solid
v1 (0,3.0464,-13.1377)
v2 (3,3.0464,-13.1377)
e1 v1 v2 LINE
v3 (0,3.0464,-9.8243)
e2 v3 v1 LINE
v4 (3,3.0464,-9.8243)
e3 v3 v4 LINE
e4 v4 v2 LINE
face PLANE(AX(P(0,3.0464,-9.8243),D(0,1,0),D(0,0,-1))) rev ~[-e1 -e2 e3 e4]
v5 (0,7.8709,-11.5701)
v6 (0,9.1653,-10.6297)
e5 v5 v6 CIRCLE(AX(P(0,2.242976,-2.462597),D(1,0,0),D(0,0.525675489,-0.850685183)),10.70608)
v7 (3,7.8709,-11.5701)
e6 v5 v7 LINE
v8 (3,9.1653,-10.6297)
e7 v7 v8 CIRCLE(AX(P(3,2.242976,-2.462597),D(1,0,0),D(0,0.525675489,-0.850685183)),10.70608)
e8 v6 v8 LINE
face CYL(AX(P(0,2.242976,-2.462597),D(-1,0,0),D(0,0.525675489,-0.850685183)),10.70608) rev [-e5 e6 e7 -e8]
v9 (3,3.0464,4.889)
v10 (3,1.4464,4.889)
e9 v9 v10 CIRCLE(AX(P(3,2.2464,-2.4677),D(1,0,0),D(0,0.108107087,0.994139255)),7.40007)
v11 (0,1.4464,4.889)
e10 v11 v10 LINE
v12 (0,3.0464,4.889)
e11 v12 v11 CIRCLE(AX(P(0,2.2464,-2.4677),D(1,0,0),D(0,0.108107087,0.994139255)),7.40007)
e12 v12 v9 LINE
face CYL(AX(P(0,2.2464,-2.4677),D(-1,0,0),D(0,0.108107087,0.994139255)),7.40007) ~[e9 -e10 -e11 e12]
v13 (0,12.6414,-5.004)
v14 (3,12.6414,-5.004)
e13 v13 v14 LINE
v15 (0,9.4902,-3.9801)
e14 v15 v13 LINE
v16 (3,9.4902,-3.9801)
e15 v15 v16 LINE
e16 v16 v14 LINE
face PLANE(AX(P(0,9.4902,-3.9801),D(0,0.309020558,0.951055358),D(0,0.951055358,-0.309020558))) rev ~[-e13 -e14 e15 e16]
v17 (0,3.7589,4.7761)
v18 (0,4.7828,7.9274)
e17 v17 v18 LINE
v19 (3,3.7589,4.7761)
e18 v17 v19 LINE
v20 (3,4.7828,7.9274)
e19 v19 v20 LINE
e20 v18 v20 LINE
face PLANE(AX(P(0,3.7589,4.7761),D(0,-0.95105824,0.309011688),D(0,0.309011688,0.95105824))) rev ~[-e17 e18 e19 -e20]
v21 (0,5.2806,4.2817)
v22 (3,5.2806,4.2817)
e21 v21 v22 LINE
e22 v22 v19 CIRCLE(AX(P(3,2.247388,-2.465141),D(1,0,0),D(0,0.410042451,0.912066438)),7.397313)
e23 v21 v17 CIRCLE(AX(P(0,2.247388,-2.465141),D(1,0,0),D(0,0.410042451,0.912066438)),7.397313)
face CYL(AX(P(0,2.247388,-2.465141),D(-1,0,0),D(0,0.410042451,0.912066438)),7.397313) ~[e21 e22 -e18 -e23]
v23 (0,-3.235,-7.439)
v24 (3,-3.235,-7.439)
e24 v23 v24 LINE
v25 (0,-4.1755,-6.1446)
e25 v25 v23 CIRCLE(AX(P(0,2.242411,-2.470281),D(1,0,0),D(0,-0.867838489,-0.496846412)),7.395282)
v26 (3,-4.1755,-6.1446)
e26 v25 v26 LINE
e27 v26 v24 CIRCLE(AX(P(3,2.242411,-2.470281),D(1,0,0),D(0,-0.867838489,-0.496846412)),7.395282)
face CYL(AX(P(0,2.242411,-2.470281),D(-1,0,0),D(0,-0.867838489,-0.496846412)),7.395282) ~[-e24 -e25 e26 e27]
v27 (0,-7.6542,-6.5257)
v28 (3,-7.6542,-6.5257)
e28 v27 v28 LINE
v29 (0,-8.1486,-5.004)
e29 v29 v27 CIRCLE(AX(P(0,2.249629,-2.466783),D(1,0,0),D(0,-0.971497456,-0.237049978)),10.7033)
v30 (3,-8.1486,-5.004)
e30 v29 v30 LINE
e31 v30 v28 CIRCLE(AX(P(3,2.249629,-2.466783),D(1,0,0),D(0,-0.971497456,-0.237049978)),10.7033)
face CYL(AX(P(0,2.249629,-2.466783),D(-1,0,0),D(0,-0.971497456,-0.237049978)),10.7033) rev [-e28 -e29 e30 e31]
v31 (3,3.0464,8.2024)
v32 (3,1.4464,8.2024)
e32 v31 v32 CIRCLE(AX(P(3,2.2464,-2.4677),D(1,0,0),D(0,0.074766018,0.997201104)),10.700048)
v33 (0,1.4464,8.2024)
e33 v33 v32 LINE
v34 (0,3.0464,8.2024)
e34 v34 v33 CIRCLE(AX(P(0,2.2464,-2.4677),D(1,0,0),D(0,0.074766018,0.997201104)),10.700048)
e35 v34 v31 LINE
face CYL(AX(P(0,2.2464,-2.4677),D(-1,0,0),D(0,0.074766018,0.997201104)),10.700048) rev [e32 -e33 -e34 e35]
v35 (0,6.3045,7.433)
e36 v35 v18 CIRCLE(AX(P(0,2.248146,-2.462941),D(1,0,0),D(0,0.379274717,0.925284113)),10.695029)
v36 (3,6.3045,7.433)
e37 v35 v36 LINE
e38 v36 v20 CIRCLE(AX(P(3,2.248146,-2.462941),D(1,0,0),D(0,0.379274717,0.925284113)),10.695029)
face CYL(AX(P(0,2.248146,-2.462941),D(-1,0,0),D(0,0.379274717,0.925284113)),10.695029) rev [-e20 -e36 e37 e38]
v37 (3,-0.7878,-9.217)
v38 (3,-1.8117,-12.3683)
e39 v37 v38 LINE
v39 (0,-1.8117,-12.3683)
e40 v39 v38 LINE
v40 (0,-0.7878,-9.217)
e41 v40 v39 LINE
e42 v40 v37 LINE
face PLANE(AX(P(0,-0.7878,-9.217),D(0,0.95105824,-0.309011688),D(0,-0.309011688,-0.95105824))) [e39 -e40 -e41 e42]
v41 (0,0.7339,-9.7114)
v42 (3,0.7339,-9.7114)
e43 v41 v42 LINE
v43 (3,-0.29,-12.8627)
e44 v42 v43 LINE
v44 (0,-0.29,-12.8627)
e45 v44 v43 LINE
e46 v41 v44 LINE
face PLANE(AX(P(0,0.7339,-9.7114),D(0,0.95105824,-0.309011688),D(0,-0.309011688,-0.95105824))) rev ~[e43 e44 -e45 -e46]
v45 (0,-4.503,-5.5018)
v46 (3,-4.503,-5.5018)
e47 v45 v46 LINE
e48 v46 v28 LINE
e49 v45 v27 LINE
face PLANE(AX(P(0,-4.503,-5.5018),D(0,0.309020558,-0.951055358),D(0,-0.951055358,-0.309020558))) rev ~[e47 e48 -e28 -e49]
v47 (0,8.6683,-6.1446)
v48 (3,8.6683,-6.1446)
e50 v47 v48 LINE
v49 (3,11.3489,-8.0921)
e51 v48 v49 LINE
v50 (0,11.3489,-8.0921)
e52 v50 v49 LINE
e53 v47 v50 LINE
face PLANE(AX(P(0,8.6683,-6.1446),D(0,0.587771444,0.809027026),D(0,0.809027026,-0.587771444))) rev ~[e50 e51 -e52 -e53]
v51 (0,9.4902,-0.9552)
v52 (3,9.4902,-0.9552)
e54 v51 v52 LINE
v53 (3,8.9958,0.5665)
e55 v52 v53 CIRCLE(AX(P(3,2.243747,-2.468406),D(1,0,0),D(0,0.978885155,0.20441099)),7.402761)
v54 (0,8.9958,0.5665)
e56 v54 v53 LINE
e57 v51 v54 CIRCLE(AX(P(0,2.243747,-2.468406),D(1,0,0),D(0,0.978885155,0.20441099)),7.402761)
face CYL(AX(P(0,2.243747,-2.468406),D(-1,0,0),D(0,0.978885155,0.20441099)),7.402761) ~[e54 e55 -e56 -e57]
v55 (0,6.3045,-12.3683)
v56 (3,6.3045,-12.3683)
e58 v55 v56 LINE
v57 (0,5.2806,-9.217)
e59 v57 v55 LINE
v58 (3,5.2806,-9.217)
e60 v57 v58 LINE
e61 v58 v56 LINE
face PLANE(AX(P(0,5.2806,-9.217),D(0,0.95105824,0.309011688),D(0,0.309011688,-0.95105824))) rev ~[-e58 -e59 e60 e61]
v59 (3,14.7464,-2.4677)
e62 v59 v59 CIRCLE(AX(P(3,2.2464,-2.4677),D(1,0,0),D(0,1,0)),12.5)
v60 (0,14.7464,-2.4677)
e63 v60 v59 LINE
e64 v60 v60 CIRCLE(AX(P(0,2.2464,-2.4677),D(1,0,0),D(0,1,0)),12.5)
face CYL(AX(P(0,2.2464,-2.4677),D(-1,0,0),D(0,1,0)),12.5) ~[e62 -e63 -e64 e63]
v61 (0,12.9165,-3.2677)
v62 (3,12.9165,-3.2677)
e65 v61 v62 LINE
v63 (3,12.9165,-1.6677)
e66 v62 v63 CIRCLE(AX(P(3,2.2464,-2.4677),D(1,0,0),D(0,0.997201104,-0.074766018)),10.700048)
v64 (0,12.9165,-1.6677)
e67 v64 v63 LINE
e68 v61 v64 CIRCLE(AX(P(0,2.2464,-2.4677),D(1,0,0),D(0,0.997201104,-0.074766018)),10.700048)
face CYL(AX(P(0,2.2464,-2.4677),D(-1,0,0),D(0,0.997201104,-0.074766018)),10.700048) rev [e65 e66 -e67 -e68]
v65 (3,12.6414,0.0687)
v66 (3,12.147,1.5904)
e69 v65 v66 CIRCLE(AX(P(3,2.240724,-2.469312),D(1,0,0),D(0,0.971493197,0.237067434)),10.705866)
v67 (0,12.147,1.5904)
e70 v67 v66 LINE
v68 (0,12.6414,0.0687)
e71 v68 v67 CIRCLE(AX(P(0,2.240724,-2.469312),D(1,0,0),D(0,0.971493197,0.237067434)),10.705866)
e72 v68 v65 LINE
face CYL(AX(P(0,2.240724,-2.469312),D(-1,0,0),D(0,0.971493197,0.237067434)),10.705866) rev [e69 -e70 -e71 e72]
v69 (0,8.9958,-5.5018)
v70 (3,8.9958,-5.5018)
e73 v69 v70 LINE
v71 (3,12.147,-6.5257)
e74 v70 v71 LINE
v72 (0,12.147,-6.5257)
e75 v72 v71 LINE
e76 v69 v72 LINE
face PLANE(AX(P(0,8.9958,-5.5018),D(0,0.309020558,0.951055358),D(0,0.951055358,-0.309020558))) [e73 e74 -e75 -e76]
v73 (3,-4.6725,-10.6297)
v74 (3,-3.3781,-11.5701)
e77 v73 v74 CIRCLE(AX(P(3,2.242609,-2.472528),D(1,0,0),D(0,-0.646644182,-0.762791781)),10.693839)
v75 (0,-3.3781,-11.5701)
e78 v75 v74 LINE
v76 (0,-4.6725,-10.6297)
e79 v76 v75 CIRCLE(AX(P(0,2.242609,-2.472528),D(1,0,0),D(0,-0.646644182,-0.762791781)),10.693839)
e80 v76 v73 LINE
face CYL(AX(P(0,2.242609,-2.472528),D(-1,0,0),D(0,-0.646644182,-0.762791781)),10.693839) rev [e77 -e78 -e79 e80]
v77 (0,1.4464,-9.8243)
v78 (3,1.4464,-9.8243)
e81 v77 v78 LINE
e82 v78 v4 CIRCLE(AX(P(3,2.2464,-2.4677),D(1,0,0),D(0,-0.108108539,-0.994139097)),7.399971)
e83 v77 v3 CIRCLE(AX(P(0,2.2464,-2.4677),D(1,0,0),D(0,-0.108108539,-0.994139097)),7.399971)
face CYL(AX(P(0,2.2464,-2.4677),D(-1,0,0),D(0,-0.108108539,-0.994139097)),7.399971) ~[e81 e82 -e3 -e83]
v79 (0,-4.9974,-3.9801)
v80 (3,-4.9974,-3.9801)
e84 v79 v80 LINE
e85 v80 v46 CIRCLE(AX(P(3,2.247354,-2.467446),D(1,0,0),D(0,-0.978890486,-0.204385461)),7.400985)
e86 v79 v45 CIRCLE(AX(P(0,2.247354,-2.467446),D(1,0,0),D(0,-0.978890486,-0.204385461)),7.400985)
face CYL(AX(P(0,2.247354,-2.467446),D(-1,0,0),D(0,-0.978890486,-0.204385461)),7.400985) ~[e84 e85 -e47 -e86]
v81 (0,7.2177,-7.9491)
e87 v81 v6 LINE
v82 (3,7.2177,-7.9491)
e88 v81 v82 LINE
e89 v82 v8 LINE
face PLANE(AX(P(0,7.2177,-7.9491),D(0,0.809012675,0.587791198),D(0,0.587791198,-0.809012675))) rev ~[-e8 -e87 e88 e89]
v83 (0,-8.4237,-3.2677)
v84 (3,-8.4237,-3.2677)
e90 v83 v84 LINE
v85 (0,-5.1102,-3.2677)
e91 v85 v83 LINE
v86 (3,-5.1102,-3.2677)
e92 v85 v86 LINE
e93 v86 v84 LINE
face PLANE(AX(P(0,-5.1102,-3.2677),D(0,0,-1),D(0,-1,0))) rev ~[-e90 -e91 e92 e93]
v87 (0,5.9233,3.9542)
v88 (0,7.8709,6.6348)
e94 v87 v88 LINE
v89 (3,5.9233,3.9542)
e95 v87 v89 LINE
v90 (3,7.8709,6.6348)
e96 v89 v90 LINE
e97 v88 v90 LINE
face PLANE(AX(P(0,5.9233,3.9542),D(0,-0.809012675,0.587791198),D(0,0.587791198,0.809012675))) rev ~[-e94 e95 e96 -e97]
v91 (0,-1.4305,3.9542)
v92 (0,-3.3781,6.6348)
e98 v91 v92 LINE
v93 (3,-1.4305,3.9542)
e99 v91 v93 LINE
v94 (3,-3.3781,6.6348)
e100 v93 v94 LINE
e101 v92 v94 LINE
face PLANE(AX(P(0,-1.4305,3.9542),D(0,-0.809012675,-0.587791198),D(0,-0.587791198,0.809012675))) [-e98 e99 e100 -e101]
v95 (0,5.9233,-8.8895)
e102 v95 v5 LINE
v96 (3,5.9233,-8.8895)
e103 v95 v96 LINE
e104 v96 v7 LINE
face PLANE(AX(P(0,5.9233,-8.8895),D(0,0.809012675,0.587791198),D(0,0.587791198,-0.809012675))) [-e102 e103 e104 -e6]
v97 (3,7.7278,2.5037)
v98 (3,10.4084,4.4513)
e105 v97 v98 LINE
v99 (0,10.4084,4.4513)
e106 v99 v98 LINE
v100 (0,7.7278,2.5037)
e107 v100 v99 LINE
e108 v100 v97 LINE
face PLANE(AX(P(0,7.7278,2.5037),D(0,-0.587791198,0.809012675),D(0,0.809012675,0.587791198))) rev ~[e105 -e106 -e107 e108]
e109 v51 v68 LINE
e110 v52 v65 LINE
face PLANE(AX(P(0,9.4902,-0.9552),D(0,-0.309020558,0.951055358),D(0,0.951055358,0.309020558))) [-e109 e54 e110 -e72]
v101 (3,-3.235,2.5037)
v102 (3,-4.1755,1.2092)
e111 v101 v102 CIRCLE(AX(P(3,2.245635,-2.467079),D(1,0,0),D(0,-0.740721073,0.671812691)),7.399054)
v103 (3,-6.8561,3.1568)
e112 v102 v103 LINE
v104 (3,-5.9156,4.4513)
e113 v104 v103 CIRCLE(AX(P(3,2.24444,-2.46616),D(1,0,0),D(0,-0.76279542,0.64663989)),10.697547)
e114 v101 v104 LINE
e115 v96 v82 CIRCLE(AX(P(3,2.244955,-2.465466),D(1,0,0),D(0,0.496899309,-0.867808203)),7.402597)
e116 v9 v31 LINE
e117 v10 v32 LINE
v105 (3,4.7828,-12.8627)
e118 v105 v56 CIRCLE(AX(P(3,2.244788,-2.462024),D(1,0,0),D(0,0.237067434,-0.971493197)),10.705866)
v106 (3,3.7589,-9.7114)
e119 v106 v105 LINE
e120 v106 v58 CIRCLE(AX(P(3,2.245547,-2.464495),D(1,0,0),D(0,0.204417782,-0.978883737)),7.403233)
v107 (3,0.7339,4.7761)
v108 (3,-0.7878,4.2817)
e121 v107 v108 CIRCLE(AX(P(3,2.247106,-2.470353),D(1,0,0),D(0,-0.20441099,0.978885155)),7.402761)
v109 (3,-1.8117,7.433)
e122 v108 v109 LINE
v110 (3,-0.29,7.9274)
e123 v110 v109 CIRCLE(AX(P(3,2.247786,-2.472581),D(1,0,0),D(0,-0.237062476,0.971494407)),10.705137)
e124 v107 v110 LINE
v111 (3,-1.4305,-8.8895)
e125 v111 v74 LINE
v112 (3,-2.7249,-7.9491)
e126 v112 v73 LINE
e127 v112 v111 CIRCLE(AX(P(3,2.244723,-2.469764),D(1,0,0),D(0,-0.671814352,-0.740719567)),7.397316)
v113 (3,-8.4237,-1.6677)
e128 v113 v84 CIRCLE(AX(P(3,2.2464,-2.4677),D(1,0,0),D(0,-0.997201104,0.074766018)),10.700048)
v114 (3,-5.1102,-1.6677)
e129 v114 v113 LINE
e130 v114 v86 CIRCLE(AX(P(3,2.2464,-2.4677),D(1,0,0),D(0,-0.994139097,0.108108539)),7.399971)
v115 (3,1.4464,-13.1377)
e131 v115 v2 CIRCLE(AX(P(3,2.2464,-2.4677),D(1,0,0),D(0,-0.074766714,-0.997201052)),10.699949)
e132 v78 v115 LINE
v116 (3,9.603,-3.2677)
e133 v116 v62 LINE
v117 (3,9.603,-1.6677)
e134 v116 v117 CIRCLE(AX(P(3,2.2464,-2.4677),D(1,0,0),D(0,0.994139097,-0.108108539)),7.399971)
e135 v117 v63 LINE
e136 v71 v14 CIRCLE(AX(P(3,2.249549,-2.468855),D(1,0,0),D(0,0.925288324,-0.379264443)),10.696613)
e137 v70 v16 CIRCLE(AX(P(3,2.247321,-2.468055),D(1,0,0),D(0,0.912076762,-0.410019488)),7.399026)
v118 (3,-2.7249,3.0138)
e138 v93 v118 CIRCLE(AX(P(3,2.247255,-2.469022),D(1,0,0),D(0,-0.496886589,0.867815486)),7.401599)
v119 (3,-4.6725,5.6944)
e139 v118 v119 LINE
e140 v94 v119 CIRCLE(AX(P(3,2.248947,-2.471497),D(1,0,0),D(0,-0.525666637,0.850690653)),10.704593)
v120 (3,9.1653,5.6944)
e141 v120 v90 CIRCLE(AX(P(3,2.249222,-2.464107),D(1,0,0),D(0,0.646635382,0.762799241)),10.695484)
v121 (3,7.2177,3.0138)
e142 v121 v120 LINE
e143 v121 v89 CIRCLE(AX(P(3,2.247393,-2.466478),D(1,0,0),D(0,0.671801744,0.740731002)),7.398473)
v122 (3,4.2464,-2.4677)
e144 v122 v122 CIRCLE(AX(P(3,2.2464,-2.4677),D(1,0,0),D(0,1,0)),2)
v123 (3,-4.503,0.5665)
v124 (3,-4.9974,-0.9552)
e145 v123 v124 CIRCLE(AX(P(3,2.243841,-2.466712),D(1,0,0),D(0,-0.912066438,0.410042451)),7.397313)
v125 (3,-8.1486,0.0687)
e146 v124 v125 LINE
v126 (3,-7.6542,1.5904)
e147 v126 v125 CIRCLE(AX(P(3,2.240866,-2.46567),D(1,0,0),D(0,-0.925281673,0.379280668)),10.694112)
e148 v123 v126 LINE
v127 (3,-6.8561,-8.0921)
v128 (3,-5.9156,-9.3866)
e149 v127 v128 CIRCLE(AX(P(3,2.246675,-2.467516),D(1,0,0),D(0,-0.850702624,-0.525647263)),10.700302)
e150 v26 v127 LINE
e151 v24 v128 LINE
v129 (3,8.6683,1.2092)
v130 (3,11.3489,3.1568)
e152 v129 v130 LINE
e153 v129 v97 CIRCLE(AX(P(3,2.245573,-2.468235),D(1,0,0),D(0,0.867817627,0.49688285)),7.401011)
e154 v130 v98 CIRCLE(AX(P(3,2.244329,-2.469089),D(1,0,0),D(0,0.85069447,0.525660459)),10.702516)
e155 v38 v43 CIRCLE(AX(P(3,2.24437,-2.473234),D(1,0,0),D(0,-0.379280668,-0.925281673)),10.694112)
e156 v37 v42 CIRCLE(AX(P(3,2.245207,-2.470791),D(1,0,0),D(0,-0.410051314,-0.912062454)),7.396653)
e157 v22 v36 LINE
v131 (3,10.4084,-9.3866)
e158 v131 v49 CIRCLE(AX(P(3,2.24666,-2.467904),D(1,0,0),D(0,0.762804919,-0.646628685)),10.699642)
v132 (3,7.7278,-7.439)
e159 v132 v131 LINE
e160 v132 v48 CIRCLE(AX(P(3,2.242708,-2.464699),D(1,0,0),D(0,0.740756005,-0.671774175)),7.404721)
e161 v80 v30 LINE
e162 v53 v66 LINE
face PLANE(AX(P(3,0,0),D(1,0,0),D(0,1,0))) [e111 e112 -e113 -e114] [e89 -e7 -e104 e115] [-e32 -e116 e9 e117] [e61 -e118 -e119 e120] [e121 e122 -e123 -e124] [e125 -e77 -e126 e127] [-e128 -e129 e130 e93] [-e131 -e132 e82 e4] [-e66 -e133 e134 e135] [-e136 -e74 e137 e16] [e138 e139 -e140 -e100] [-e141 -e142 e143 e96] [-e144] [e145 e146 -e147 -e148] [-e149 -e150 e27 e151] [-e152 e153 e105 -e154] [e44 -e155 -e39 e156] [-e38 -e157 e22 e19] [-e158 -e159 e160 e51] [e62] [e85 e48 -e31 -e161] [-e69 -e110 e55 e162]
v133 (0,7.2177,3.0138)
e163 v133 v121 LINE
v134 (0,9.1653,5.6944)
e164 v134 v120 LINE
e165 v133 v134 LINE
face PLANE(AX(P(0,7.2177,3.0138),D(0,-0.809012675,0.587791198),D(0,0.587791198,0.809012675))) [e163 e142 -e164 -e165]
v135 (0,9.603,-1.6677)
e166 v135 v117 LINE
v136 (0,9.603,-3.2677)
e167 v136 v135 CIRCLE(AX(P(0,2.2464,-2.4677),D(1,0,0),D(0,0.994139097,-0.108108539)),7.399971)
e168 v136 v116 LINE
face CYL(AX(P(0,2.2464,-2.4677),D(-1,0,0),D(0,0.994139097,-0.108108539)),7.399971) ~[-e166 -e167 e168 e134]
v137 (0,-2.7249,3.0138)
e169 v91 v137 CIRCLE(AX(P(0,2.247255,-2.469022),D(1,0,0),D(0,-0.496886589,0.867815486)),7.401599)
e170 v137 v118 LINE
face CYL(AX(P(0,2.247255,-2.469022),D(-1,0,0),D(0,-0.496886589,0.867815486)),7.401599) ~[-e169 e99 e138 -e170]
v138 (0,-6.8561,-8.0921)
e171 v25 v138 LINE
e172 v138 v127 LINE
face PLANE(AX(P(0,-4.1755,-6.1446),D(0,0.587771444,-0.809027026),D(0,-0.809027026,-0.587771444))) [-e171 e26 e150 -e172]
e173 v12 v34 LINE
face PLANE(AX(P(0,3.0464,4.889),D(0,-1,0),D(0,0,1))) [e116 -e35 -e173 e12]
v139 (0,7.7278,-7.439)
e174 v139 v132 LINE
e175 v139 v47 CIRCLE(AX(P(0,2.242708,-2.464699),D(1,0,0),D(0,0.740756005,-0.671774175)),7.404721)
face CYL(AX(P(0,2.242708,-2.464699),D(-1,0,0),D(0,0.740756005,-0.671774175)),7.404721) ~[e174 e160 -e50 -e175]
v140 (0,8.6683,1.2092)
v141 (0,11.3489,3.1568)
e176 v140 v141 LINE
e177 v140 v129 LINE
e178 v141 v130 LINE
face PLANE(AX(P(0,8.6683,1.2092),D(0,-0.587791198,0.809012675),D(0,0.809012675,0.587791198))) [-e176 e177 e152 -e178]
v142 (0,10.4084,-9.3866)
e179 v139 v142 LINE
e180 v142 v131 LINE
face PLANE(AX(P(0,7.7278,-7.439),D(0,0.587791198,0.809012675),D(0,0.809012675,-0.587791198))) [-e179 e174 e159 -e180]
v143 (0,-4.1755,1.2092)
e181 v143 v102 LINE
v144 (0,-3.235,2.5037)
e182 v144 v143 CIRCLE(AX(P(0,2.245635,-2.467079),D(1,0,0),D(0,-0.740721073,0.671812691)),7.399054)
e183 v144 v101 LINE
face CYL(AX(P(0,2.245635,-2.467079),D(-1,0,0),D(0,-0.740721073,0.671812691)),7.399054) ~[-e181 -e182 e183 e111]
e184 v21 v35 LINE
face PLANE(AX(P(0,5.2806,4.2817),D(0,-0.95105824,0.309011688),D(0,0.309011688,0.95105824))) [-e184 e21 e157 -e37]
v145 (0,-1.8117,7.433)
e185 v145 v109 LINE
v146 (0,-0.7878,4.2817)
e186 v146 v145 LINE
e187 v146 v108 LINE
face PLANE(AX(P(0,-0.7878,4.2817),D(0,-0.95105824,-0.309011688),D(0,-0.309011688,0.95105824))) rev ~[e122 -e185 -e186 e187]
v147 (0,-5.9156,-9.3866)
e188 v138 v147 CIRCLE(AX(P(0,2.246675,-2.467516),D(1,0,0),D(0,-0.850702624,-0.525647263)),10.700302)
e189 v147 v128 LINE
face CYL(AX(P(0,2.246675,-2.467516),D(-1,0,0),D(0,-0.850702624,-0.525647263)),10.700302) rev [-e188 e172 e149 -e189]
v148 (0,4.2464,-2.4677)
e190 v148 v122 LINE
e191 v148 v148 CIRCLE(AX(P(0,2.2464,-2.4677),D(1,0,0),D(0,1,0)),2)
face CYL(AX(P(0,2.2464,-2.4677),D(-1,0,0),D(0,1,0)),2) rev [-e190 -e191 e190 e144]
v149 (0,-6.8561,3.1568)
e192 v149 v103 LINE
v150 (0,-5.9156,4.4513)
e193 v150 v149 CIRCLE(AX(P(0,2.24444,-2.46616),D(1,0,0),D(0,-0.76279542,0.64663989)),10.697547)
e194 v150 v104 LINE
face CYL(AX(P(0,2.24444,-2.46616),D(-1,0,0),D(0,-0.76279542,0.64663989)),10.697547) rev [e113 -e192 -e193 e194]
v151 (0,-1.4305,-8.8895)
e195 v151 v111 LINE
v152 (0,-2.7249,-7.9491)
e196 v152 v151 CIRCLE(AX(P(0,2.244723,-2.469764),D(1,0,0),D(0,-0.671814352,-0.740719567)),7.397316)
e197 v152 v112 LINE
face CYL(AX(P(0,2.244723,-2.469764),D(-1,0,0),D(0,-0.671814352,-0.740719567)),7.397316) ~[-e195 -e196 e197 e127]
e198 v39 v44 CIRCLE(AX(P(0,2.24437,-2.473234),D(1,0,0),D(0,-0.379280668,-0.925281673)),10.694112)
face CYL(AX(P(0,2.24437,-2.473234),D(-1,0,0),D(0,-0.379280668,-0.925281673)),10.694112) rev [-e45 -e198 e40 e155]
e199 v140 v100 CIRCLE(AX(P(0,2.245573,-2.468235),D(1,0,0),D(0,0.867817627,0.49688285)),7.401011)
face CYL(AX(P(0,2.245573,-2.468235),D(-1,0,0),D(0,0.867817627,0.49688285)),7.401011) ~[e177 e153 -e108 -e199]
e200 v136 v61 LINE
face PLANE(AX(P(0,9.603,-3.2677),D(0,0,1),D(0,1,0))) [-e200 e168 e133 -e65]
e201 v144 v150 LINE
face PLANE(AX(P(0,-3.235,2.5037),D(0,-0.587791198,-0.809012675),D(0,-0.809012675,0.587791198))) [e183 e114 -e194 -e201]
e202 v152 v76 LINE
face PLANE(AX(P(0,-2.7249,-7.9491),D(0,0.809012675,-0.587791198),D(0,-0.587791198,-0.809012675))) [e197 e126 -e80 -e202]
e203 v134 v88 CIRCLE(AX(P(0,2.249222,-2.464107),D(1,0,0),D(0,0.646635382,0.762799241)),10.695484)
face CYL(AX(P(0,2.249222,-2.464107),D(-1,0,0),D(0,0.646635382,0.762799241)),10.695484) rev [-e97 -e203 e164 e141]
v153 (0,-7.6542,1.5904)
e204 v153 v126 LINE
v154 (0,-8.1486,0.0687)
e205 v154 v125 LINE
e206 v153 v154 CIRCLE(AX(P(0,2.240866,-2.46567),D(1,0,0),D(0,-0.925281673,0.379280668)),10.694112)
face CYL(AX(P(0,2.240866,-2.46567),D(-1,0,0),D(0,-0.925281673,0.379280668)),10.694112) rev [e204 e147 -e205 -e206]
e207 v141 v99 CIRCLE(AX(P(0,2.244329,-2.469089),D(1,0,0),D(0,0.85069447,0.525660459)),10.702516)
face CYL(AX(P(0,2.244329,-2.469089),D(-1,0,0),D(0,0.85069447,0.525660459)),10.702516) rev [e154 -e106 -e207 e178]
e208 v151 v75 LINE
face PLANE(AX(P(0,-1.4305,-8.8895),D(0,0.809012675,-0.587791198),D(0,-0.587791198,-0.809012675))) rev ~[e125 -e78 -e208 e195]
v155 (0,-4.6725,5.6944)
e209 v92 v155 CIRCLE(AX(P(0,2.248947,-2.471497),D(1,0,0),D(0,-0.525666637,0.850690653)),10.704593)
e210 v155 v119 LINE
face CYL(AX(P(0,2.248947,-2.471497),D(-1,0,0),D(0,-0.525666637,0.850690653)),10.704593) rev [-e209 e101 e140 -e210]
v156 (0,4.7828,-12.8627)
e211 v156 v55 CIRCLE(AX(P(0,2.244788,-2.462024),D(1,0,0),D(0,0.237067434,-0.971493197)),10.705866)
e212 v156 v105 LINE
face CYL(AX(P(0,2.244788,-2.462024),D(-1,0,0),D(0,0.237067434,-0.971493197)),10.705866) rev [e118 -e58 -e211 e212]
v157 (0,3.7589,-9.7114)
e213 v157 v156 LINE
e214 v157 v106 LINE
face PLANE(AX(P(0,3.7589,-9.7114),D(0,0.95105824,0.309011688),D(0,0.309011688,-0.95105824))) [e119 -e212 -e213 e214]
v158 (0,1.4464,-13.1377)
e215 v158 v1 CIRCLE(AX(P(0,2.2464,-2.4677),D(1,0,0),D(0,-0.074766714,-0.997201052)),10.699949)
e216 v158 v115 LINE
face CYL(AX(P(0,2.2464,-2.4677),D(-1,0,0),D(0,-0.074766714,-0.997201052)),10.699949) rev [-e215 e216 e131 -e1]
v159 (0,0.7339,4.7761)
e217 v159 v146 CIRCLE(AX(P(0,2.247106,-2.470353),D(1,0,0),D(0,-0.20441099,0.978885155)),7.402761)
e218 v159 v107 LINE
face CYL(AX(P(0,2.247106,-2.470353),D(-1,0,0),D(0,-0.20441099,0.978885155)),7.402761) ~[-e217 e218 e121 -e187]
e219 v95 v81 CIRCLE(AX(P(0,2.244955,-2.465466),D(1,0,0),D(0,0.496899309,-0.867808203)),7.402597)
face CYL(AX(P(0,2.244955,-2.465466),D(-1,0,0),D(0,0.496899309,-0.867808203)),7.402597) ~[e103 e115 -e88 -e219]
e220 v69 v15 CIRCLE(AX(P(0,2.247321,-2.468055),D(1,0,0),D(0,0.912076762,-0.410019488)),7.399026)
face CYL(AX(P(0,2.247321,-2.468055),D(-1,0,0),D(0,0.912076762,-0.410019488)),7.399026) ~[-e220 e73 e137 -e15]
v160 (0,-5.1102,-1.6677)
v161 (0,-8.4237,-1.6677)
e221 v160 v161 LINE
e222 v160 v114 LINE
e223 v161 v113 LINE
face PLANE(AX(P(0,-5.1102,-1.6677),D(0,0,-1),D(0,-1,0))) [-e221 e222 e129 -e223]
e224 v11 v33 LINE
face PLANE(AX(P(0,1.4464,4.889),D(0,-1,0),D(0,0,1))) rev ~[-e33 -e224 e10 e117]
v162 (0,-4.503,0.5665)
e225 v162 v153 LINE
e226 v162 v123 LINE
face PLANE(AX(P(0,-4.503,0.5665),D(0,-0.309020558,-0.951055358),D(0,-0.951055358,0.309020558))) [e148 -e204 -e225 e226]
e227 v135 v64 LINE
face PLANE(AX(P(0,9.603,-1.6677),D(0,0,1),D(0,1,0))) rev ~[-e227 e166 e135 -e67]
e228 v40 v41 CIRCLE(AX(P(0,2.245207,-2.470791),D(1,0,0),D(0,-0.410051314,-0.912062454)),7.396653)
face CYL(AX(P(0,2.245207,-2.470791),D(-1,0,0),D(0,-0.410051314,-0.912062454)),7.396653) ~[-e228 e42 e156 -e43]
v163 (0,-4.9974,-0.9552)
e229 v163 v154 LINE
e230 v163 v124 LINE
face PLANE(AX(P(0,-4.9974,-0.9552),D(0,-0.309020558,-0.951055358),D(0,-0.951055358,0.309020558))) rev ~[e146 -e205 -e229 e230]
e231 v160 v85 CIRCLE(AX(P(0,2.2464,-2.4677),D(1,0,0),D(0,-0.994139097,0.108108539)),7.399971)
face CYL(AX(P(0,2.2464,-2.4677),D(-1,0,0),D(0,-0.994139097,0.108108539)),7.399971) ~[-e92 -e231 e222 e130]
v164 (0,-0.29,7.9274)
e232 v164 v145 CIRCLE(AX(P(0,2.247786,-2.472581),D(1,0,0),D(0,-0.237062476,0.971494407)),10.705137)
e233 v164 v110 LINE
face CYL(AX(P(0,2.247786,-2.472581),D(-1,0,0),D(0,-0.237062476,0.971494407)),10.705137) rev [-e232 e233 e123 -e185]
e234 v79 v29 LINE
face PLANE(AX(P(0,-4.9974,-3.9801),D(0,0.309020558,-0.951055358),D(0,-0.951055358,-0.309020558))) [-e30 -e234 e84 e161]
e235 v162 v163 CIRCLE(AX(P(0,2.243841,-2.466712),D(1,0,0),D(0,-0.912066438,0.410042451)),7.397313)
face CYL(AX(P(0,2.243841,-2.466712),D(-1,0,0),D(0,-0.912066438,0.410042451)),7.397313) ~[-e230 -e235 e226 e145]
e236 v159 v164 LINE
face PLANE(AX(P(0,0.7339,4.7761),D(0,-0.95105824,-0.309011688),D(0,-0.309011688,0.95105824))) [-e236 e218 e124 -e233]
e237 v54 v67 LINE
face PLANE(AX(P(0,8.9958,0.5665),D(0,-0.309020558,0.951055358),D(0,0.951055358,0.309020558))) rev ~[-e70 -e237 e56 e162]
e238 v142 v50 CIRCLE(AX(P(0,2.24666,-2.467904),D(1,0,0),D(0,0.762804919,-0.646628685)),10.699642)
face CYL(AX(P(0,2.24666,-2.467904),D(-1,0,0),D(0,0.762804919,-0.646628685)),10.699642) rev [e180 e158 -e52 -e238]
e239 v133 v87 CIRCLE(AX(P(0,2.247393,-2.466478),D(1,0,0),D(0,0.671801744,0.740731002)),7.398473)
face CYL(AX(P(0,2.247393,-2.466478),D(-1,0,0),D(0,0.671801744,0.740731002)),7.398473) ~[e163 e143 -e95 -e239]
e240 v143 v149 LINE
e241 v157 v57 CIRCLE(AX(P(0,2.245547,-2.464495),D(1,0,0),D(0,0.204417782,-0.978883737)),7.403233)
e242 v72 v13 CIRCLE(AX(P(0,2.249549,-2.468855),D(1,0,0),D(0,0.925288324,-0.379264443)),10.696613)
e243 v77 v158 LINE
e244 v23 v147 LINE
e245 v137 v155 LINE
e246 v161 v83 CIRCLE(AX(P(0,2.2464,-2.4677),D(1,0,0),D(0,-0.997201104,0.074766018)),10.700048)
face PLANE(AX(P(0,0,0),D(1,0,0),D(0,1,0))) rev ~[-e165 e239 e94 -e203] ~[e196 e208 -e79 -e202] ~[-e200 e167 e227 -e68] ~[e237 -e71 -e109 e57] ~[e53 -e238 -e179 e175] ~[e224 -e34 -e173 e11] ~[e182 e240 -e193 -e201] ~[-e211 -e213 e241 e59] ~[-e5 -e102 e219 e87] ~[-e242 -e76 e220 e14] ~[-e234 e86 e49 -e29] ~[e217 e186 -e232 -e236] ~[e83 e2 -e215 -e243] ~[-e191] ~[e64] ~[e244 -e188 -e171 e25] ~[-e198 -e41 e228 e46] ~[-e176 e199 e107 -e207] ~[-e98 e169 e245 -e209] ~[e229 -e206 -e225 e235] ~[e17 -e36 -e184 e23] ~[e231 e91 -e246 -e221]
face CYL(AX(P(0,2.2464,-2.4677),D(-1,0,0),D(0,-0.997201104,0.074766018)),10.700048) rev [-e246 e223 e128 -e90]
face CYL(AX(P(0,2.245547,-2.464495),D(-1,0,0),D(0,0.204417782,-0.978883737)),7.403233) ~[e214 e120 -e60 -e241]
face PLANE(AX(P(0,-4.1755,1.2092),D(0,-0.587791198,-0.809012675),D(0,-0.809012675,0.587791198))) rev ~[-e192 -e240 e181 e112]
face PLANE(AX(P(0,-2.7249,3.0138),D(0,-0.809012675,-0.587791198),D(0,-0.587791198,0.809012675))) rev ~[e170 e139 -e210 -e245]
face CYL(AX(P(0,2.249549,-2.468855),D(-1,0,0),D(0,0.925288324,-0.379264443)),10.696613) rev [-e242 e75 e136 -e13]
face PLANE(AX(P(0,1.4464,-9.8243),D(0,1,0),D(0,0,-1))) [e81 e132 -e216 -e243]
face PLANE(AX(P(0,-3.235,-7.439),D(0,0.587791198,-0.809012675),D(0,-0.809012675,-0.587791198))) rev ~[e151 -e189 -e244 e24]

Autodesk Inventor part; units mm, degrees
ref_plane "YZ Plane" through (0, 0, 0) normal (1, 0, 0) x (0, 1, 0)
ref_plane "XZ Plane" through (0, 0, 0) normal (0, 1, 0) x (-1, 0, 0)
ref_plane "XY Plane" through (0, 0, 0) normal (0, 0, 1) x (1, 0, 0)
sketch "Sketch1" plane through (0, 0, 0) normal (1, 0, 0) x (0, 1, 0)
  circle A0 centre (2.2464, -2.4677) radius 12.5
  circle A1 centre (2.2464, -2.4677) radius 2
  arc A2 (9.603, -3.2677) -> (9.603, -1.6677) centre (2.2464, -2.4677) ccw
  arc A3 (12.9165, -3.2677) -> (12.9165, -1.6677) centre (2.2464, -2.4677) ccw
  line L0 (9.603, -3.2677) -> (12.9165, -3.2677)
  line L1 (9.603, -1.6677) -> (12.9165, -1.6677)
  line L2 (8.9958, 0.5665) -> (12.147, 1.5904)
  arc A4 (12.6414, 0.0687) -> (12.147, 1.5904) centre (2.2464, -2.4677) ccw
  line L3 (9.4902, -0.9552) -> (12.6414, 0.0687)
  arc A5 (9.4902, -0.9552) -> (8.9958, 0.5665) centre (2.2464, -2.4677) ccw
  line L4 (7.7278, 2.5037) -> (10.4084, 4.4513)
  arc A6 (11.3489, 3.1568) -> (10.4084, 4.4513) centre (2.2464, -2.4677) ccw
  line L5 (8.6683, 1.2092) -> (11.3489, 3.1568)
  arc A7 (8.6683, 1.2092) -> (7.7278, 2.5037) centre (2.2464, -2.4677) ccw
  line L6 (5.9233, 3.9542) -> (7.8709, 6.6348)
  arc A8 (9.1653, 5.6944) -> (7.8709, 6.6348) centre (2.2464, -2.4677) ccw
  line L7 (7.2177, 3.0138) -> (9.1653, 5.6944)
  arc A9 (7.2177, 3.0138) -> (5.9233, 3.9542) centre (2.2464, -2.4677) ccw
  line L8 (3.7589, 4.7761) -> (4.7828, 7.9274)
  arc A10 (6.3045, 7.433) -> (4.7828, 7.9274) centre (2.2464, -2.4677) ccw
  line L9 (5.2806, 4.2817) -> (6.3045, 7.433)
  arc A11 (5.2806, 4.2817) -> (3.7589, 4.7761) centre (2.2464, -2.4677) ccw
  line L10 (1.4464, 4.889) -> (1.4464, 8.2024)
  arc A12 (3.0464, 8.2024) -> (1.4464, 8.2024) centre (2.2464, -2.4677) ccw
  line L11 (3.0464, 4.889) -> (3.0464, 8.2024)
  arc A13 (3.0464, 4.889) -> (1.4464, 4.889) centre (2.2464, -2.4677) ccw
  line L12 (-0.7878, 4.2817) -> (-1.8117, 7.433)
  arc A14 (-0.29, 7.9274) -> (-1.8117, 7.433) centre (2.2464, -2.4677) ccw
  line L13 (0.7339, 4.7761) -> (-0.29, 7.9274)
  arc A15 (0.7339, 4.7761) -> (-0.7878, 4.2817) centre (2.2464, -2.4677) ccw
  line L14 (-2.7249, 3.0138) -> (-4.6725, 5.6944)
  arc A16 (-3.3781, 6.6348) -> (-4.6725, 5.6944) centre (2.2464, -2.4677) ccw
  line L15 (-1.4305, 3.9542) -> (-3.3781, 6.6348)
  arc A17 (-1.4305, 3.9542) -> (-2.7249, 3.0138) centre (2.2464, -2.4677) ccw
  line L16 (-4.1755, 1.2092) -> (-6.8561, 3.1568)
  arc A18 (-5.9156, 4.4513) -> (-6.8561, 3.1568) centre (2.2464, -2.4677) ccw
  line L17 (-3.235, 2.5037) -> (-5.9156, 4.4513)
  arc A19 (-3.235, 2.5037) -> (-4.1755, 1.2092) centre (2.2464, -2.4677) ccw
  line L18 (-4.9974, -0.9552) -> (-8.1486, 0.0687)
  arc A20 (-7.6542, 1.5904) -> (-8.1486, 0.0687) centre (2.2464, -2.4677) ccw
  line L19 (-4.503, 0.5665) -> (-7.6542, 1.5904)
  arc A21 (-4.503, 0.5665) -> (-4.9974, -0.9552) centre (2.2464, -2.4677) ccw
  line L20 (-5.1102, -3.2677) -> (-8.4237, -3.2677)
  arc A22 (-8.4237, -1.6677) -> (-8.4237, -3.2677) centre (2.2464, -2.4677) ccw
  line L21 (-5.1102, -1.6677) -> (-8.4237, -1.6677)
  arc A23 (-5.1102, -1.6677) -> (-5.1102, -3.2677) centre (2.2464, -2.4677) ccw
  line L22 (-4.503, -5.5018) -> (-7.6542, -6.5257)
  arc A24 (-8.1486, -5.004) -> (-7.6542, -6.5257) centre (2.2464, -2.4677) ccw
  line L23 (-4.9974, -3.9801) -> (-8.1486, -5.004)
  arc A25 (-4.9974, -3.9801) -> (-4.503, -5.5018) centre (2.2464, -2.4677) ccw
  line L24 (-3.235, -7.439) -> (-5.9156, -9.3866)
  arc A26 (-6.8561, -8.0921) -> (-5.9156, -9.3866) centre (2.2464, -2.4677) ccw
  line L25 (-4.1755, -6.1446) -> (-6.8561, -8.0921)
  arc A27 (-4.1755, -6.1446) -> (-3.235, -7.439) centre (2.2464, -2.4677) ccw
  line L26 (-1.4305, -8.8895) -> (-3.3781, -11.5701)
  arc A28 (-4.6725, -10.6297) -> (-3.3781, -11.5701) centre (2.2464, -2.4677) ccw
  line L27 (-2.7249, -7.9491) -> (-4.6725, -10.6297)
  arc A29 (-2.7249, -7.9491) -> (-1.4305, -8.8895) centre (2.2464, -2.4677) ccw
  line L28 (0.7339, -9.7114) -> (-0.29, -12.8627)
  arc A30 (-1.8117, -12.3683) -> (-0.29, -12.8627) centre (2.2464, -2.4677) ccw
  line L29 (-0.7878, -9.217) -> (-1.8117, -12.3683)
  arc A31 (-0.7878, -9.217) -> (0.7339, -9.7114) centre (2.2464, -2.4677) ccw
  line L30 (3.0464, -9.8243) -> (3.0464, -13.1377)
  arc A32 (1.4464, -13.1377) -> (3.0464, -13.1377) centre (2.2464, -2.4677) ccw
  line L31 (1.4464, -9.8243) -> (1.4464, -13.1377)
  arc A33 (1.4464, -9.8243) -> (3.0464, -9.8243) centre (2.2464, -2.4677) ccw
  line L32 (5.2806, -9.217) -> (6.3045, -12.3683)
  arc A34 (4.7828, -12.8627) -> (6.3045, -12.3683) centre (2.2464, -2.4677) ccw
  line L33 (3.7589, -9.7114) -> (4.7828, -12.8627)
  arc A35 (3.7589, -9.7114) -> (5.2806, -9.217) centre (2.2464, -2.4677) ccw
  line L34 (7.2177, -7.9491) -> (9.1653, -10.6297)
  arc A36 (7.8709, -11.5701) -> (9.1653, -10.6297) centre (2.2464, -2.4677) ccw
  line L35 (5.9233, -8.8895) -> (7.8709, -11.5701)
  arc A37 (5.9233, -8.8895) -> (7.2177, -7.9491) centre (2.2464, -2.4677) ccw
  line L36 (8.6683, -6.1446) -> (11.3489, -8.0921)
  arc A38 (10.4084, -9.3866) -> (11.3489, -8.0921) centre (2.2464, -2.4677) ccw
  line L37 (7.7278, -7.439) -> (10.4084, -9.3866)
  arc A39 (7.7278, -7.439) -> (8.6683, -6.1446) centre (2.2464, -2.4677) ccw
  line L38 (9.4902, -3.9801) -> (12.6414, -5.004)
  arc A40 (12.147, -6.5257) -> (12.6414, -5.004) centre (2.2464, -2.4677) ccw
  line L39 (8.9958, -5.5018) -> (12.147, -6.5257)
  arc A41 (8.9958, -5.5018) -> (9.4902, -3.9801) centre (2.2464, -2.4677) ccw
  point P0 (0, 0)
  dimension "d7" = 5.4
  dimension "d12" = 360
extrude "Extrusion1" add sketch "Sketch1" along normal blind 3
properties part number "Enc_"
